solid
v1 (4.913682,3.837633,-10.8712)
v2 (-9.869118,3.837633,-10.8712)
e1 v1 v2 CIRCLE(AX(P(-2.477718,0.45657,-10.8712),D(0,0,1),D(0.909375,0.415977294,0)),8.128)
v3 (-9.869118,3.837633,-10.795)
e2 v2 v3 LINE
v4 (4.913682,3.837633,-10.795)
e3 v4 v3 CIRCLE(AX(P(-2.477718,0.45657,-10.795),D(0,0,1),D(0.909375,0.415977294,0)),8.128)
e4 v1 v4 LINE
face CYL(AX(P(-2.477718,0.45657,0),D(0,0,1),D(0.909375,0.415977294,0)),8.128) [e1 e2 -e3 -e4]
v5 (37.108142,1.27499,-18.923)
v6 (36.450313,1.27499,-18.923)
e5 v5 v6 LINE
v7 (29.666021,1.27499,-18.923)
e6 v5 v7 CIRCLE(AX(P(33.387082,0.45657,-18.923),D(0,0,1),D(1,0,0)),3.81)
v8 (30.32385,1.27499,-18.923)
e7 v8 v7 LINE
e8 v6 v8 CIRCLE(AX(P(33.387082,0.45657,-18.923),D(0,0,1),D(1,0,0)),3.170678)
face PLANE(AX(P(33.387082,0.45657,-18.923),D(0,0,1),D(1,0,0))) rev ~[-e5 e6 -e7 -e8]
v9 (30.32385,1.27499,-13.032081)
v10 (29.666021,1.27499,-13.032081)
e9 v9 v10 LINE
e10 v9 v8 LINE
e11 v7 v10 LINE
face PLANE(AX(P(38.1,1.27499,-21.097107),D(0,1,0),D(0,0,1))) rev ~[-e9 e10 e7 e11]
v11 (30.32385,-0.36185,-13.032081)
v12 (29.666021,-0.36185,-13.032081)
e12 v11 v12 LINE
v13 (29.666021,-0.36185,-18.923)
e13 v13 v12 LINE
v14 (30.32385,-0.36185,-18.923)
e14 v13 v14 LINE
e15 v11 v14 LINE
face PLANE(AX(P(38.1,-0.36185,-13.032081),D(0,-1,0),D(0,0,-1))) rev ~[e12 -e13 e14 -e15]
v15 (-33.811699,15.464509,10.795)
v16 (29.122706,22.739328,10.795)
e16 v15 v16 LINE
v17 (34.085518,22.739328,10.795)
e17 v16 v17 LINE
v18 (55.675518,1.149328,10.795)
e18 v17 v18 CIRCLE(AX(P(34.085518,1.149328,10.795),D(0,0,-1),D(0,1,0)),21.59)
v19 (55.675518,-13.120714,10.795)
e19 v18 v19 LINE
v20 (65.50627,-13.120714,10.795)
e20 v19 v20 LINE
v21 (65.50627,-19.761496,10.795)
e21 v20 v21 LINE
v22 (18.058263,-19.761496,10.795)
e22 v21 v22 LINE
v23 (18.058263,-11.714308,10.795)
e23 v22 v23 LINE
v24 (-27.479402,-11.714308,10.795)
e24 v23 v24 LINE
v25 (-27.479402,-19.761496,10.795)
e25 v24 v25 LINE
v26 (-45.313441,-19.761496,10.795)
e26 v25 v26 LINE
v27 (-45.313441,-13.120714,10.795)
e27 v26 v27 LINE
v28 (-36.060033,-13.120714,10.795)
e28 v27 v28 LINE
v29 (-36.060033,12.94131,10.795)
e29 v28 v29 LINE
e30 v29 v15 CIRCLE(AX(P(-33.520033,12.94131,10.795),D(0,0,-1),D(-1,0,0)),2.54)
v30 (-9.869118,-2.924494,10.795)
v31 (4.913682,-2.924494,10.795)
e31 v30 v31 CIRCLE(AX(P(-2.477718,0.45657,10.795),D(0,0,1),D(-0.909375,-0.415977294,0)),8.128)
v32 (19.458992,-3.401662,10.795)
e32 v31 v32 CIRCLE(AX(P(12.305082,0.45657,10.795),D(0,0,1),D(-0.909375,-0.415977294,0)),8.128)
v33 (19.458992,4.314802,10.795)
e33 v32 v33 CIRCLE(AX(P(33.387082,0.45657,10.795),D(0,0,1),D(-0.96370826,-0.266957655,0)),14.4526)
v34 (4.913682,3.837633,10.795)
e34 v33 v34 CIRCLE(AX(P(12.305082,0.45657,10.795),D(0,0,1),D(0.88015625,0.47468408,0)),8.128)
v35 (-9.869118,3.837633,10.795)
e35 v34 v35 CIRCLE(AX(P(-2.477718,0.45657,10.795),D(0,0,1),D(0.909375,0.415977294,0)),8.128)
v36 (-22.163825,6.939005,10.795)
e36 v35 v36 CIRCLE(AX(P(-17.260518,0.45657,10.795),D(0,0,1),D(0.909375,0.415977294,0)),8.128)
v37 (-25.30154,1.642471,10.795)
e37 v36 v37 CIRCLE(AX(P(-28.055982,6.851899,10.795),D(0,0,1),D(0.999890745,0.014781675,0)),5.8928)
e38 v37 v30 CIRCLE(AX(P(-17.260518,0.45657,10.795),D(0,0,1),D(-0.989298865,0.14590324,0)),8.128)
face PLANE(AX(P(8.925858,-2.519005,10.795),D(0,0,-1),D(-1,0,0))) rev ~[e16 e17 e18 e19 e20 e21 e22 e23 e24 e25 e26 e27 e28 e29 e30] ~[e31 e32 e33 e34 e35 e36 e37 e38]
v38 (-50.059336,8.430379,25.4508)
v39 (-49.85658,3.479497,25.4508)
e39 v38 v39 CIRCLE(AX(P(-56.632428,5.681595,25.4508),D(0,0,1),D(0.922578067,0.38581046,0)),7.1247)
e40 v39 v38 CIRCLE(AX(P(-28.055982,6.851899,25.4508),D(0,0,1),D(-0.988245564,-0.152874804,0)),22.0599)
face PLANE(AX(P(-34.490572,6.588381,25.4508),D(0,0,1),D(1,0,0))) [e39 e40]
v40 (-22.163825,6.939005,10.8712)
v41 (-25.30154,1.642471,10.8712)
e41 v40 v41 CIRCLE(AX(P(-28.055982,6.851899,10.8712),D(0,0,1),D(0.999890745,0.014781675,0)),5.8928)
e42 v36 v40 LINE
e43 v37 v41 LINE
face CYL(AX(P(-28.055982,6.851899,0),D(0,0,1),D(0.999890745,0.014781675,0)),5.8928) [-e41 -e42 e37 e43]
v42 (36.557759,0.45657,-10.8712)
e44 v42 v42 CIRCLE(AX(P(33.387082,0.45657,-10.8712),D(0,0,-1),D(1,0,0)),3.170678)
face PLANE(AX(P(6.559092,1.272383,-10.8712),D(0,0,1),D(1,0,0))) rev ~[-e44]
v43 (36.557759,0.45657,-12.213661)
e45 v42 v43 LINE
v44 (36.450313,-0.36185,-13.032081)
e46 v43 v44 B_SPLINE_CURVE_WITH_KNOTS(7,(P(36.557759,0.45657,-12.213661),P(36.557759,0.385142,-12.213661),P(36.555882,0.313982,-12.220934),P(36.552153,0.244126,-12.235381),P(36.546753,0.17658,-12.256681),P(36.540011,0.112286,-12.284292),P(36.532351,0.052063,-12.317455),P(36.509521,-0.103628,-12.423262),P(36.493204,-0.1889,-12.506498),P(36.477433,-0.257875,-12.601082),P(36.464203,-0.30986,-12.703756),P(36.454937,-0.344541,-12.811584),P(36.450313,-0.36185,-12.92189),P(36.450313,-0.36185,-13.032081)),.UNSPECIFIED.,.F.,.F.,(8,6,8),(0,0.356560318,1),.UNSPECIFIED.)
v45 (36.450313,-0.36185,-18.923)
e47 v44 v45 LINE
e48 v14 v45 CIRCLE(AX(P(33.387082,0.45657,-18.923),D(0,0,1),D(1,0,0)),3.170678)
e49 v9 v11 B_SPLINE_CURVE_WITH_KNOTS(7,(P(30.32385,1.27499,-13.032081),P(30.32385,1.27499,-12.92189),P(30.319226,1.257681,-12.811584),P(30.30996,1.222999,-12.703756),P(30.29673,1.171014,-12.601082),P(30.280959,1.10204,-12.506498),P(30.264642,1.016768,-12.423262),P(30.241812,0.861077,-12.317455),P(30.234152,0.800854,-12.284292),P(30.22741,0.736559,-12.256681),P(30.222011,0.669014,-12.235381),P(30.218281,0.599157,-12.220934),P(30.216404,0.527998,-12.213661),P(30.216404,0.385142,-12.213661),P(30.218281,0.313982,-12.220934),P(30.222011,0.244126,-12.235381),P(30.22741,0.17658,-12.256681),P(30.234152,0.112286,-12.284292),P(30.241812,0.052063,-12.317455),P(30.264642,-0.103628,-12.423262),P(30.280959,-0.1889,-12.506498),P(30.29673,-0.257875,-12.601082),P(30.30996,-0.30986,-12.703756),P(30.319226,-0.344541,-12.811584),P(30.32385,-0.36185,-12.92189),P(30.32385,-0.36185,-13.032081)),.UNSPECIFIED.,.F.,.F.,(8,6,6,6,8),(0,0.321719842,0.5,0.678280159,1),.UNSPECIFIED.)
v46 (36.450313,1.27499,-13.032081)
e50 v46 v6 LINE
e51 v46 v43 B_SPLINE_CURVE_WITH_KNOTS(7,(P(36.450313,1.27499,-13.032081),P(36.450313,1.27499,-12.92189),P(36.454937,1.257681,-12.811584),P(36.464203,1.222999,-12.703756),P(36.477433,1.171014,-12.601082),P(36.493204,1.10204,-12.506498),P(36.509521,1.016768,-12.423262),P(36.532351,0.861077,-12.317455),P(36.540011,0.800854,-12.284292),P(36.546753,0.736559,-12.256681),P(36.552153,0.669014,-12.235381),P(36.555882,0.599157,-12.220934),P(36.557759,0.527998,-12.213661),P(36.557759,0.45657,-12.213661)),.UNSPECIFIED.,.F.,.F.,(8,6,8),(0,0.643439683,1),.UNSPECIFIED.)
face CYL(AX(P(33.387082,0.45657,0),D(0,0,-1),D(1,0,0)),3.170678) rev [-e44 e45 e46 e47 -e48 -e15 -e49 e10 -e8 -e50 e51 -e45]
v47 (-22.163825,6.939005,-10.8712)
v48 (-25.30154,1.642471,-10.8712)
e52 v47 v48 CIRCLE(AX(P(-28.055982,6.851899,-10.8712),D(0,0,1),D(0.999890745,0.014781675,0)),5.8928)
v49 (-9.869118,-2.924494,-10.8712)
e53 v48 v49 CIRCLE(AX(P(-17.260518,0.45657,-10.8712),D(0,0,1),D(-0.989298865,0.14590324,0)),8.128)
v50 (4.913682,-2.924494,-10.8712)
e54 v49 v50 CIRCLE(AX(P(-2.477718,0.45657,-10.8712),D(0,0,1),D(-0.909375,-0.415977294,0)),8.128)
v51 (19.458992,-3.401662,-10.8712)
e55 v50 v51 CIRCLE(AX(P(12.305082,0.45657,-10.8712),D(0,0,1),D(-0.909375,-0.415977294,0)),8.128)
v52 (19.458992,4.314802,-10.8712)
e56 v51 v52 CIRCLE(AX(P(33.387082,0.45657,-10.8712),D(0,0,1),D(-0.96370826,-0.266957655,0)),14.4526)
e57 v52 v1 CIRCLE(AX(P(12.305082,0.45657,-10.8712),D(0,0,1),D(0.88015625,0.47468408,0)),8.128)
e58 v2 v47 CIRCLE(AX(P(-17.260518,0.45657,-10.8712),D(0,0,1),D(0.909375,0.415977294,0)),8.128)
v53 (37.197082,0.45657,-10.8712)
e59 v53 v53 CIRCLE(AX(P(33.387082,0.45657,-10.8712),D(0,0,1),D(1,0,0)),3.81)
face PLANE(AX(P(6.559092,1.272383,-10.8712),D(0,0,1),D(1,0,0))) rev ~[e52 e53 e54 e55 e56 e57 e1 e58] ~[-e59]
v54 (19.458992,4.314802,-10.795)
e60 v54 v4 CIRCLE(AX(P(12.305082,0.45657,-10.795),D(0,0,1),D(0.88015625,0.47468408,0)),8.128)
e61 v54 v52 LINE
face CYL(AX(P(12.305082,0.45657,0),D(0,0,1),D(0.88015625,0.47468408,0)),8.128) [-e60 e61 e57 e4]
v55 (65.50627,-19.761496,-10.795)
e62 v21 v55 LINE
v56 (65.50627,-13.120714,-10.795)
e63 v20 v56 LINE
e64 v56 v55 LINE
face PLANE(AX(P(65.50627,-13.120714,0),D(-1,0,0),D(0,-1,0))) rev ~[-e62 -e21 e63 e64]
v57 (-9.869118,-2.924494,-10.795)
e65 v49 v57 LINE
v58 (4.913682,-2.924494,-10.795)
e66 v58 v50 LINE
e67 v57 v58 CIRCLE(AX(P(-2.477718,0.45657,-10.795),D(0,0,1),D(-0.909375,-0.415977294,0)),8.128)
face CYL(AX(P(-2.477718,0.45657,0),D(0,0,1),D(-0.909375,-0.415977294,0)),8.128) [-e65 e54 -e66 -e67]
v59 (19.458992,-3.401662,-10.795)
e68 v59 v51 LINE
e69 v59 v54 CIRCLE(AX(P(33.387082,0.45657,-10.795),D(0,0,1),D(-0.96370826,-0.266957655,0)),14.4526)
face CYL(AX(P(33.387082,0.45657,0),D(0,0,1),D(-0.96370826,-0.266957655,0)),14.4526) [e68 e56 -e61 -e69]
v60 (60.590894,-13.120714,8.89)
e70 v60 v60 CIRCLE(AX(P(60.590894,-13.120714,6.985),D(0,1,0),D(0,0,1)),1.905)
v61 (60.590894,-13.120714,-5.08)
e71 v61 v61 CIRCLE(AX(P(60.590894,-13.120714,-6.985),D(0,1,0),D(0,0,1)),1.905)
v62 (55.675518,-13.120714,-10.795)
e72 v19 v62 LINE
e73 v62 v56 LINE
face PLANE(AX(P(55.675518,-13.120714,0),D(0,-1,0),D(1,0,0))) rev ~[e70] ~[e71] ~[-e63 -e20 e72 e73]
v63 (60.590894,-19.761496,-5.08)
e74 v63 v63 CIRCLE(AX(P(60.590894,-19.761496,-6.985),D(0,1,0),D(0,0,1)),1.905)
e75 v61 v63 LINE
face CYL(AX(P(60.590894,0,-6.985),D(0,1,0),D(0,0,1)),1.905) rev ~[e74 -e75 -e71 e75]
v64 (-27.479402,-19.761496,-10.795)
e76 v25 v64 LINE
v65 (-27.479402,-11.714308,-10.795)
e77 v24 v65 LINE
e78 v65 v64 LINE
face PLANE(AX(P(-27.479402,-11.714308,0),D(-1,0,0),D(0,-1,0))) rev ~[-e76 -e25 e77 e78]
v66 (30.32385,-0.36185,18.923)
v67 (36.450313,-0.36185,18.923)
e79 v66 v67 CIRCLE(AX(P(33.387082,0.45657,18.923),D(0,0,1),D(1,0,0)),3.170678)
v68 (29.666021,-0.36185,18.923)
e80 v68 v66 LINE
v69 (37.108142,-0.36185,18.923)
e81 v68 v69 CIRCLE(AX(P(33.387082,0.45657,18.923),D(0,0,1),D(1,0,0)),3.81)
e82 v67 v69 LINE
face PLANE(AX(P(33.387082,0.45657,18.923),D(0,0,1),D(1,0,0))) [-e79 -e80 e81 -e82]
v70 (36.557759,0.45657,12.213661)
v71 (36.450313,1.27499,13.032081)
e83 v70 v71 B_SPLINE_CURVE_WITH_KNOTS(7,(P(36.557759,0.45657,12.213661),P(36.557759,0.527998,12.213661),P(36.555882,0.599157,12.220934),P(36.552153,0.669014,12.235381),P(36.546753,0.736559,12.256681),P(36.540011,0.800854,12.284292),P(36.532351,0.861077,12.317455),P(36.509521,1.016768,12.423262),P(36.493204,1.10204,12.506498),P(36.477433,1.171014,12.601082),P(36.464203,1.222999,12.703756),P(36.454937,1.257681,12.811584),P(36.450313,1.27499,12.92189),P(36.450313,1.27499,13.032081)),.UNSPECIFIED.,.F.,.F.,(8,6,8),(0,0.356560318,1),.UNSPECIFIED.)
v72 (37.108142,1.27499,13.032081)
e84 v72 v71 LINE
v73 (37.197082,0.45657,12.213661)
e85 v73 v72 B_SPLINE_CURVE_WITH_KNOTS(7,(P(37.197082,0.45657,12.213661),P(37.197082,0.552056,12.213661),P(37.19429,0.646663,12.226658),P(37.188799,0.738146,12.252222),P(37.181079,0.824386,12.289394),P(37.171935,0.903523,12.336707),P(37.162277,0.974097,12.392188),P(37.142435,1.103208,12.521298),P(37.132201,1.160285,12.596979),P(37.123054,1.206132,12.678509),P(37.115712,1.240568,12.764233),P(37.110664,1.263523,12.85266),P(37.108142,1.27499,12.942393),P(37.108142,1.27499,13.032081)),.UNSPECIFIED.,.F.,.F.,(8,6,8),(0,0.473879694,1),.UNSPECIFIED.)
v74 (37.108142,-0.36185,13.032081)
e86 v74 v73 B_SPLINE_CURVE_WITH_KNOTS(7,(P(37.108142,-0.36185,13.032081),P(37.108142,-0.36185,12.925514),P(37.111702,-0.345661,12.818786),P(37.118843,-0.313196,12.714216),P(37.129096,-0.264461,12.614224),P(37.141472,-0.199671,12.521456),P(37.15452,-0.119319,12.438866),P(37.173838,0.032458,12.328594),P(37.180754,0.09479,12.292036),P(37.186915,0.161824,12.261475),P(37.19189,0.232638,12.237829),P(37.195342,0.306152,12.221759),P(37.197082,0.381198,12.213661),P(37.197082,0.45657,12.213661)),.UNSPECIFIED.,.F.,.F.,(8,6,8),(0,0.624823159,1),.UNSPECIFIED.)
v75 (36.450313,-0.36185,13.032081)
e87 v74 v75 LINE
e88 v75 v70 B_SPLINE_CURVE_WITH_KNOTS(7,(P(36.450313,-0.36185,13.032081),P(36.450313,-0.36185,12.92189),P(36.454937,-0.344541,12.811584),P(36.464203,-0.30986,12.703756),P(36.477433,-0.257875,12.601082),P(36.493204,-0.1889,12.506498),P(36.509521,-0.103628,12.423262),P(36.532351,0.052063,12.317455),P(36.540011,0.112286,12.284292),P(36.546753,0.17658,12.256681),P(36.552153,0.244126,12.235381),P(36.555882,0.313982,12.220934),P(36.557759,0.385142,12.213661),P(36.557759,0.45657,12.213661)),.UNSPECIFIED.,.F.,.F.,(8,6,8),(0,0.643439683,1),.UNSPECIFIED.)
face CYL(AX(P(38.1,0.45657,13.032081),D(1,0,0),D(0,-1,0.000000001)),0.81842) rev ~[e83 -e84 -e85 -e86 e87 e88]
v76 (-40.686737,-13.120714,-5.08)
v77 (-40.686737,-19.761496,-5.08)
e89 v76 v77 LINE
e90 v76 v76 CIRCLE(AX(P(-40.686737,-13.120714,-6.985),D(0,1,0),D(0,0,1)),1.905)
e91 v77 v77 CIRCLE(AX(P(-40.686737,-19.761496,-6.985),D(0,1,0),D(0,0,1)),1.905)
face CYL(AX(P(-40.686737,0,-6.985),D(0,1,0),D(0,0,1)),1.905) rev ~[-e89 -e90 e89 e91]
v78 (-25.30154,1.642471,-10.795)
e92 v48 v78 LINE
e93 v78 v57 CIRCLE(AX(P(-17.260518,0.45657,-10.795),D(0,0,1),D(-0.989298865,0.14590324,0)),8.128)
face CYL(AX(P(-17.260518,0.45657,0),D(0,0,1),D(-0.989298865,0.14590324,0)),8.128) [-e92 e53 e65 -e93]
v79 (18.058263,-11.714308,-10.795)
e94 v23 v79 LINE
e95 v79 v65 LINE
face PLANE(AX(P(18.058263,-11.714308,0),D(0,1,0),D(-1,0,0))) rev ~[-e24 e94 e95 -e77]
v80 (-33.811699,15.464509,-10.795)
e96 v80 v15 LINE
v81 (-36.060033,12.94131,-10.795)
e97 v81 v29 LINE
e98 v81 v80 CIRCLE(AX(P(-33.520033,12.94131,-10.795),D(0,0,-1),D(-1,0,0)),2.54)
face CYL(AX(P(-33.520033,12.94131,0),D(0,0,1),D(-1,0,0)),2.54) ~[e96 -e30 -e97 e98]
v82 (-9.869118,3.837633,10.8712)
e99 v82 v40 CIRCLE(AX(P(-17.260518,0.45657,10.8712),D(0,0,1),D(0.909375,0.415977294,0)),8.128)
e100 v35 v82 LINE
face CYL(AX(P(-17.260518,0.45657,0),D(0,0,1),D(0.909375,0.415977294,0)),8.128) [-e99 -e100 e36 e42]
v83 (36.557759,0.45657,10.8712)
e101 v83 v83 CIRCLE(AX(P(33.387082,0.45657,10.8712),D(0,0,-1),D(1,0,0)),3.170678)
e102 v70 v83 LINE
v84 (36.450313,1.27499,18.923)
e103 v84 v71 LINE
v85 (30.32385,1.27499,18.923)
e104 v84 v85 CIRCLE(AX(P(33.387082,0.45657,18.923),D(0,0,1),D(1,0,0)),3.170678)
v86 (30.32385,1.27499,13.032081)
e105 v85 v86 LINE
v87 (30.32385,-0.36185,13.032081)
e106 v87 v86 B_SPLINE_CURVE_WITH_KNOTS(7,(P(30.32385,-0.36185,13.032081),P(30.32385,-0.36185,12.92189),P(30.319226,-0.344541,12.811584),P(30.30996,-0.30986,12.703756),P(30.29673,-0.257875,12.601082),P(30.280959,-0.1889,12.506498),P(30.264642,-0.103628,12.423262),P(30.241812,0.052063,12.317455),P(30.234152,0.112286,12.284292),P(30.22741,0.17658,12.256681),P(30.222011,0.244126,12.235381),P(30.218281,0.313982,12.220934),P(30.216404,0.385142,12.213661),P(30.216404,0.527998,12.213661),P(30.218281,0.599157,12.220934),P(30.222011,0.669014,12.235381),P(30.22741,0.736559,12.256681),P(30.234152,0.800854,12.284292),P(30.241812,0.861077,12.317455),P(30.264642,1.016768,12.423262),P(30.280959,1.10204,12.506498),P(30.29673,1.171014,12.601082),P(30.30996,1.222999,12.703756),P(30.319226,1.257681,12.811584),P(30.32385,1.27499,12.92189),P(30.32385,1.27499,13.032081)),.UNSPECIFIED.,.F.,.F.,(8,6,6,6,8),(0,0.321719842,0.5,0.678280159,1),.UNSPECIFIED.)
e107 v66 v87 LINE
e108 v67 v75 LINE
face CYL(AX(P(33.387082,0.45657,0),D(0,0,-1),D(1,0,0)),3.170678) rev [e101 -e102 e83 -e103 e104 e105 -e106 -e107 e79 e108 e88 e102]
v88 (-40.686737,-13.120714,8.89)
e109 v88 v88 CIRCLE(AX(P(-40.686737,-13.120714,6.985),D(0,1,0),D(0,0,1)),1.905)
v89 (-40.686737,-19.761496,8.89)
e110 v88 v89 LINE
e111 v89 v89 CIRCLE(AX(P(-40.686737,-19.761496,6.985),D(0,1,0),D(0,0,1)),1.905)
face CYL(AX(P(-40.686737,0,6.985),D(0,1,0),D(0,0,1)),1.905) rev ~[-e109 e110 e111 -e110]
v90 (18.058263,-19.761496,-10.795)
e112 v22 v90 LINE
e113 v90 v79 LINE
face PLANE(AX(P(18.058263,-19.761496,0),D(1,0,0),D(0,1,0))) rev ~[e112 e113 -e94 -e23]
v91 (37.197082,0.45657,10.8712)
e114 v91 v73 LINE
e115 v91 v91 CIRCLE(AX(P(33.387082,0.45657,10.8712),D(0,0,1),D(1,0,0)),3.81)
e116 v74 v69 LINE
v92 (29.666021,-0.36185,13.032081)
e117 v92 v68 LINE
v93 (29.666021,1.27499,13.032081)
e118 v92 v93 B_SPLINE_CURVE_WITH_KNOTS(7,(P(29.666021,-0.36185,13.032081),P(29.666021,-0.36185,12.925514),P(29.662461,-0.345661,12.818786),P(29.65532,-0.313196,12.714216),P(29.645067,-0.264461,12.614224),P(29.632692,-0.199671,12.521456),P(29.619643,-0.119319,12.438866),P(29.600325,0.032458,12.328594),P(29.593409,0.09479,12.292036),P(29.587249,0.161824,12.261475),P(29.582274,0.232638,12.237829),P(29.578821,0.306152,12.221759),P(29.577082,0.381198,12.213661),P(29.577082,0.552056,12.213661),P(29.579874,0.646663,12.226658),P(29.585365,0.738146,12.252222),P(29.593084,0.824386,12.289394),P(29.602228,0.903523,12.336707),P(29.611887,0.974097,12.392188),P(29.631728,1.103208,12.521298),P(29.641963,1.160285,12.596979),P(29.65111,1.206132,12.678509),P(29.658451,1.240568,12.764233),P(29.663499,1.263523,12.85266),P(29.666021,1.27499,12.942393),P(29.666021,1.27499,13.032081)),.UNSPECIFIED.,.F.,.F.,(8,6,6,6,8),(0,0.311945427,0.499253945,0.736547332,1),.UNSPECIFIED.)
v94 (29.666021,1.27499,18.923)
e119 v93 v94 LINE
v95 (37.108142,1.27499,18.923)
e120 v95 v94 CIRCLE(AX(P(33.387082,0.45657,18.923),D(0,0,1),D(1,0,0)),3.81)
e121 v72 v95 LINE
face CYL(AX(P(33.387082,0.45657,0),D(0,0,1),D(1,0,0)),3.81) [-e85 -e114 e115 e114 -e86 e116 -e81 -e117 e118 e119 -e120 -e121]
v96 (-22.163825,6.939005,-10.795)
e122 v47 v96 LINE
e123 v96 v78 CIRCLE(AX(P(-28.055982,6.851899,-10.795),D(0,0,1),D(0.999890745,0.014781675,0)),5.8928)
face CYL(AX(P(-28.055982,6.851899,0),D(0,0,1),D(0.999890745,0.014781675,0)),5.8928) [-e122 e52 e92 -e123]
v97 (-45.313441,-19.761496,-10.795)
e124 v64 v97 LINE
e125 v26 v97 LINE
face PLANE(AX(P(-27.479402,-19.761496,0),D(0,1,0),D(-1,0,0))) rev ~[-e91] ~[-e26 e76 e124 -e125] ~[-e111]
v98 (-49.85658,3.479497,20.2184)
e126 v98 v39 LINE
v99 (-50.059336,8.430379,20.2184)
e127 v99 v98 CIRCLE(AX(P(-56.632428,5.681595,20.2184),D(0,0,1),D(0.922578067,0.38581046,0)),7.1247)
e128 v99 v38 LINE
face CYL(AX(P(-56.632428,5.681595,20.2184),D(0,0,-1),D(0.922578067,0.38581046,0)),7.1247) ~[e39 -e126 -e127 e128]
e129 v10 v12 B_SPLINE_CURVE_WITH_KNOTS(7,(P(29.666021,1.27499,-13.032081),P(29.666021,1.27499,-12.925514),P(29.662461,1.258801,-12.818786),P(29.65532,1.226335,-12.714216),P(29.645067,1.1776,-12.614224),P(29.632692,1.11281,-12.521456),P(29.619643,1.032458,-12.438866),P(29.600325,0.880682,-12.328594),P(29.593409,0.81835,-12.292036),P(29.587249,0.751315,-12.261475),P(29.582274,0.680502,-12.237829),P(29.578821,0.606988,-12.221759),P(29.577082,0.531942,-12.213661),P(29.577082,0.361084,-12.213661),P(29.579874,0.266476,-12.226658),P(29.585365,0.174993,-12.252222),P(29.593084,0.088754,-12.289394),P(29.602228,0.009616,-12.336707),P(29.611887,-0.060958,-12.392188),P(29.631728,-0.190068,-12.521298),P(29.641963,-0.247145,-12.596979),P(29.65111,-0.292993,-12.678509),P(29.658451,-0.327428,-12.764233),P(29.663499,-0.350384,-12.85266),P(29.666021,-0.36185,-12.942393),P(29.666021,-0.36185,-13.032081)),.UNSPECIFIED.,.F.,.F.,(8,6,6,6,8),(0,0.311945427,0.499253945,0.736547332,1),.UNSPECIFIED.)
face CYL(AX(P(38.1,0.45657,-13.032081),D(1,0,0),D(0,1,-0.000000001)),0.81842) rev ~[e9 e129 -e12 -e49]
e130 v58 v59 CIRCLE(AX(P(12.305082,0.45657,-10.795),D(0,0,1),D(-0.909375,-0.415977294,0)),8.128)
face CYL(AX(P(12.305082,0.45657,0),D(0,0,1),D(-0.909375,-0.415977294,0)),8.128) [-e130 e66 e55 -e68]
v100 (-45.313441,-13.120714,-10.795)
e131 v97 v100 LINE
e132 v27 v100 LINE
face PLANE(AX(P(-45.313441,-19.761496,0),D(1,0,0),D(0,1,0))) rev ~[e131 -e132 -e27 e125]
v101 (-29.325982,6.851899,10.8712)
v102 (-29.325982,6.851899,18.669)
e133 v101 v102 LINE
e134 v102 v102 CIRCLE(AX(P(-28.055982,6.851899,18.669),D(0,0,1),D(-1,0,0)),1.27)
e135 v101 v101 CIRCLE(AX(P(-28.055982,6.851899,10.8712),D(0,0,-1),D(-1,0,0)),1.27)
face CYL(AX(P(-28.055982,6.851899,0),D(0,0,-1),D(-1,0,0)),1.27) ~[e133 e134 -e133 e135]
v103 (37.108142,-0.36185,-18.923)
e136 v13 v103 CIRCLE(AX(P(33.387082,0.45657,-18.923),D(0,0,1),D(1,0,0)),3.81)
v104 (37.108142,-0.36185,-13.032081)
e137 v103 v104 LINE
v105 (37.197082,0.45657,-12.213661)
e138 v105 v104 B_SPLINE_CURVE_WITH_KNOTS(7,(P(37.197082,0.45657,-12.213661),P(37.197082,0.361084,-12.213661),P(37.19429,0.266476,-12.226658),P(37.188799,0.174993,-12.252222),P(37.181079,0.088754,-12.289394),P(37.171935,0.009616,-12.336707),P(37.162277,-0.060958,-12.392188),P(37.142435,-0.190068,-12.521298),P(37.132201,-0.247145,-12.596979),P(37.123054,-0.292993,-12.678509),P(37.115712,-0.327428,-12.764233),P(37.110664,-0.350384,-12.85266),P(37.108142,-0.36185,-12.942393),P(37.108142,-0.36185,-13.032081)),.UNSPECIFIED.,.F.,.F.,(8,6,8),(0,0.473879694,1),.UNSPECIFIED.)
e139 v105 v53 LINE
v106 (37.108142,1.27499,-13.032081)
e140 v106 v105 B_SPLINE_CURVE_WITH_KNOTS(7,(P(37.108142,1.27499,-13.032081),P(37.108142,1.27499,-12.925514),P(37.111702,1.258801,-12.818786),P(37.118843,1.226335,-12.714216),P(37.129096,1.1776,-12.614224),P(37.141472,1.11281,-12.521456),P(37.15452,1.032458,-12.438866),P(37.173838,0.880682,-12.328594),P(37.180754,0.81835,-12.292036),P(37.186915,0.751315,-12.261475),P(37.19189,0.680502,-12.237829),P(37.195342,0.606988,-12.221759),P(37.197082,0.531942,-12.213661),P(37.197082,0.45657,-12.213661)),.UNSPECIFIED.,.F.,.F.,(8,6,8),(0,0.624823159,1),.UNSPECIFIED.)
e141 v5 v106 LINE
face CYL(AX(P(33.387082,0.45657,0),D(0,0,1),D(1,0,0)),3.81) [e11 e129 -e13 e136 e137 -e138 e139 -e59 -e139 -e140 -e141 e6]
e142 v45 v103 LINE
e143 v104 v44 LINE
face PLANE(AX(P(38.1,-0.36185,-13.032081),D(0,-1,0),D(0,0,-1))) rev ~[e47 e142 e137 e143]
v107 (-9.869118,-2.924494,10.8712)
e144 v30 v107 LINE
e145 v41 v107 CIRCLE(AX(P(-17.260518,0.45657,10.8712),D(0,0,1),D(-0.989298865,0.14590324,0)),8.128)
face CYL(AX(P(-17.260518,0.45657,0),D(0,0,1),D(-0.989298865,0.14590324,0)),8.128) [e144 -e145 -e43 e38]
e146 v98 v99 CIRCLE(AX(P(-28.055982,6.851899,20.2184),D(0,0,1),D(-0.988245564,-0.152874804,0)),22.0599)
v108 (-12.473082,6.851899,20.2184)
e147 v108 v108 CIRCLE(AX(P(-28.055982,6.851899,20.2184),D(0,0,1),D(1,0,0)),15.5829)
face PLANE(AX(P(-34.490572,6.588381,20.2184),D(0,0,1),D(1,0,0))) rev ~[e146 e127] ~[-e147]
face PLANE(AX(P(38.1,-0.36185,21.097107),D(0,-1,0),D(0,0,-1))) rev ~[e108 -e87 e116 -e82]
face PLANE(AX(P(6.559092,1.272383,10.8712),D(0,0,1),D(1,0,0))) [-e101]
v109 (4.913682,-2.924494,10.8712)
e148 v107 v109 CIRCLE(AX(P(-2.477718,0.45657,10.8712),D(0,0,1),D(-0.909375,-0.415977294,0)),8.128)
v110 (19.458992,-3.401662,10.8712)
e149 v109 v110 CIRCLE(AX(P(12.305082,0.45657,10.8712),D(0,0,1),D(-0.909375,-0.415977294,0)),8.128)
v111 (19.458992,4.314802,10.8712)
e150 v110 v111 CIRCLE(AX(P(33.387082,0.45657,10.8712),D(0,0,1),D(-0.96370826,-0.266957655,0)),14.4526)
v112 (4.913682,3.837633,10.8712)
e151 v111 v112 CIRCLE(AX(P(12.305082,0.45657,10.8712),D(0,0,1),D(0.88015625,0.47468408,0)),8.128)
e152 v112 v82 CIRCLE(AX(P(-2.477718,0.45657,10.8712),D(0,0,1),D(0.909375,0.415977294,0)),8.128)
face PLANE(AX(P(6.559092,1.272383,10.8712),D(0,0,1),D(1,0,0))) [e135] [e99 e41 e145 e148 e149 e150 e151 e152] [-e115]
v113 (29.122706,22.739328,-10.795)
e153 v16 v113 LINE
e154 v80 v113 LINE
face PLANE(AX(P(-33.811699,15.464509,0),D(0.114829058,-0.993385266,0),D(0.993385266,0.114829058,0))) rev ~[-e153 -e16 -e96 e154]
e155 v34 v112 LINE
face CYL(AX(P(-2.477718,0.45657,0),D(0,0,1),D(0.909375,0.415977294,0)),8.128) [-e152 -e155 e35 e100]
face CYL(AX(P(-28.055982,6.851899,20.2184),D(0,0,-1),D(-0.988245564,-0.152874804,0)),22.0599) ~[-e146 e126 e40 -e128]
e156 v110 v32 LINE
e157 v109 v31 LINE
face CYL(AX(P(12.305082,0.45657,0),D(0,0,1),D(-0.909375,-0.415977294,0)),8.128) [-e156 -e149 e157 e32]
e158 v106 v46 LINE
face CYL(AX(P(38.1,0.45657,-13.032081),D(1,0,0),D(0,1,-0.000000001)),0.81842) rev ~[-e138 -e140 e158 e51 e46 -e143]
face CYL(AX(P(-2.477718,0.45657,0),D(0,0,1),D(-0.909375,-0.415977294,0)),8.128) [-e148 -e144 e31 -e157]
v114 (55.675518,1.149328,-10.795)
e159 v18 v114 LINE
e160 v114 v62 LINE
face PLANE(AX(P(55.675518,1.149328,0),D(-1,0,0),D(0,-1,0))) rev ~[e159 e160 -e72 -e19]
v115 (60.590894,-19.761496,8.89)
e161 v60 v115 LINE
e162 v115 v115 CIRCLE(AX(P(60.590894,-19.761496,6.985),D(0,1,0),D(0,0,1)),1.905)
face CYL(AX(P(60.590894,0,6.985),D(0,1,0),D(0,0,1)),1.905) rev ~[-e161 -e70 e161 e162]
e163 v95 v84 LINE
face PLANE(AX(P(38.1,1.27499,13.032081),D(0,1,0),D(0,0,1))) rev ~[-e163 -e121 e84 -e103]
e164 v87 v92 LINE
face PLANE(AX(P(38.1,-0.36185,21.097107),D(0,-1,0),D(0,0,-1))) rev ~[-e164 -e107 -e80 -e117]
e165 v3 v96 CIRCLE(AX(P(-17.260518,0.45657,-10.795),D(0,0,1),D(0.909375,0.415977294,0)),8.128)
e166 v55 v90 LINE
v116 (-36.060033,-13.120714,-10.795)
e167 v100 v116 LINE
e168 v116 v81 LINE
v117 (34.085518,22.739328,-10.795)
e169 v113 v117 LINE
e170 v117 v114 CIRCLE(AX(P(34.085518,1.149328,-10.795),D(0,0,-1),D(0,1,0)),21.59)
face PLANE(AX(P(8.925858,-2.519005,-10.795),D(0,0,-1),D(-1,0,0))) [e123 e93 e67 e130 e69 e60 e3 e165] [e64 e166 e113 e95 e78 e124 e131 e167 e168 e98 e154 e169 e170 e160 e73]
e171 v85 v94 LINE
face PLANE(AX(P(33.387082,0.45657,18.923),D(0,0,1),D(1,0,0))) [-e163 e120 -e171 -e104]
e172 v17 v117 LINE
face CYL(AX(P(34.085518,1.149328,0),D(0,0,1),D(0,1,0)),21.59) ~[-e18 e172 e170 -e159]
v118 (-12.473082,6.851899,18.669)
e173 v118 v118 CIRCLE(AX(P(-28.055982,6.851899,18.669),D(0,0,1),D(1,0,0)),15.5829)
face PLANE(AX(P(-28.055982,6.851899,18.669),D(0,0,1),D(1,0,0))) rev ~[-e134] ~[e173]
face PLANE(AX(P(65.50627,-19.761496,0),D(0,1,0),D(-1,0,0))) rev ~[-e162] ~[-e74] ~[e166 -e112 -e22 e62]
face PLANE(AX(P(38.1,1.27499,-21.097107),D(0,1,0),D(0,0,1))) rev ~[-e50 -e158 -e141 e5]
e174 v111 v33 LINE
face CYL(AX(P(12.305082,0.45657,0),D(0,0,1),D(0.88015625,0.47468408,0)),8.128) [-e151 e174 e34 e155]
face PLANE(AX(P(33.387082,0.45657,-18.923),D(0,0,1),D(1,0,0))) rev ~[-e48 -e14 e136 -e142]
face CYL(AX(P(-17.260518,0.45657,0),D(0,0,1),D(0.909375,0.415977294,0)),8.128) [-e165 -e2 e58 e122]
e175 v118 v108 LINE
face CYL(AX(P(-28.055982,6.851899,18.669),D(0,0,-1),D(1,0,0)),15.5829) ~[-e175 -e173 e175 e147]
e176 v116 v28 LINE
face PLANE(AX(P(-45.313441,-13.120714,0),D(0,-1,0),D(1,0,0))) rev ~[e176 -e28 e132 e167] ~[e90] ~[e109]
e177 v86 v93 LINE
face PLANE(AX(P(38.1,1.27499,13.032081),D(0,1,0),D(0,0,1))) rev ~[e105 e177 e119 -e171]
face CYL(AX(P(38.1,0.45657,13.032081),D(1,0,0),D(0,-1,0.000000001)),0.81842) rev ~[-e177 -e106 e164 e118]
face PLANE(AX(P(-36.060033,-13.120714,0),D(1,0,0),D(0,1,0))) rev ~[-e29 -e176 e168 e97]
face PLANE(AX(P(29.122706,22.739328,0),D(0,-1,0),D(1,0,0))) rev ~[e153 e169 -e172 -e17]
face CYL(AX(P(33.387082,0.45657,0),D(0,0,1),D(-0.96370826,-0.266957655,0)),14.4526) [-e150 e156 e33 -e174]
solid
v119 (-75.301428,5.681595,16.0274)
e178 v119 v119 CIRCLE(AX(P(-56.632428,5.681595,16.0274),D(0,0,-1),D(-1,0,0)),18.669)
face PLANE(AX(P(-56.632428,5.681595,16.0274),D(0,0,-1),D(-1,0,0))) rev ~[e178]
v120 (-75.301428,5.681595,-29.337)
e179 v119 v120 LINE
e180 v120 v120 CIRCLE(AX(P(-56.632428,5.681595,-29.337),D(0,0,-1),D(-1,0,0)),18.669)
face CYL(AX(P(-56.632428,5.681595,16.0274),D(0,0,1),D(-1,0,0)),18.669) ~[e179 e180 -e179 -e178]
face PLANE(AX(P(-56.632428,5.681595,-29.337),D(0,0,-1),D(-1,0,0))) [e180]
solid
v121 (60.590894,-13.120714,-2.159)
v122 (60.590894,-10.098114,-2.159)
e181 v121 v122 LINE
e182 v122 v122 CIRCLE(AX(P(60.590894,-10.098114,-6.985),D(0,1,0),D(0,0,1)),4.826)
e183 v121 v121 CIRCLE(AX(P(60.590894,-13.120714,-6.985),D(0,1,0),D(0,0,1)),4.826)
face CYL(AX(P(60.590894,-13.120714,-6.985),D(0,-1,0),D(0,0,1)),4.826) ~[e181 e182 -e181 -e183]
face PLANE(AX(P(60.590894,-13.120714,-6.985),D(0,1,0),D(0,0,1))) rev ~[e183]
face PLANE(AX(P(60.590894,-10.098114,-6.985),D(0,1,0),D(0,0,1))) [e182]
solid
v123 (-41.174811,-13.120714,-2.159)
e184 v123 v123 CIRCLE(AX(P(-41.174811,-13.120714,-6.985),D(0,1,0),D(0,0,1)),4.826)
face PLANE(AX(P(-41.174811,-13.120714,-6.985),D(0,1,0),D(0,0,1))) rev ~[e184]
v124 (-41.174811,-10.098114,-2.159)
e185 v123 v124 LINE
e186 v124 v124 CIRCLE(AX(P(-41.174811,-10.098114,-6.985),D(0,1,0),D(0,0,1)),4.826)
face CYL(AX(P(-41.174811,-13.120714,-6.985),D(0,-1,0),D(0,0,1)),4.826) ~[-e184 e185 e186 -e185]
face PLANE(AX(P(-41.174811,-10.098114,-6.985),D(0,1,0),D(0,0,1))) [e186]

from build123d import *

# Parameters (mm, degrees)
EXTRUDE1_DEPTH    = 10.8712
SKETCH3_R         = 3.81
SKETCH3_R_2       = 3.170677591
EXTRUDE2_DEPTH    = 18.923
EXTRUDE3_DEPTH    = 10.795
SKETCH6_R         = 1.905
EXTRUDE4_DEPTH    = 21.59
SKETCH7_R         = 1.27
EXTRUDE5_DEPTH    = 18.669
EXTRUDE6_START    = 38.1
EXTRUDE6_DEPTH    = 10
SKETCH9_R         = 15.5829
EXTRUDE7_DEPTH    = 1.5494
EXTRUDE8_DEPTH    = 5.2324
EXTRUDE9_START    = 4.191
SKETCH11_R        = 18.669
EXTRUDE9_DEPTH    = 45.3644
SKETCH14_R        = 4.826
EXTRUDE10_DEPTH   = 3.0226
EXTRUDE10_2_DEPTH = 3.0226


with BuildPart() as part:
    # Sketch1 → Extrude1 (new, symmetric)
    with BuildSketch(Plane.XY):
        with BuildLine():
            ThreePointArc((19.458991626, 4.314801956), (12.038580445, 8.580199555), (4.913681626, 3.837633204))
            ThreePointArc((4.913681626, 3.837633204), (-2.477718374, 8.584569756), (-9.869118374, 3.837633204))
            ThreePointArc((-9.869118374, 3.837633204), (-15.272484602, 8.337693135), (-22.163825334, 6.939004858))
            ThreePointArc((-22.163825334, 6.939004858), (-33.125915624, 9.855374055), (-25.30153955, 1.642471287))
            ThreePointArc((-25.30153955, 1.642471287), (-19.566986279, -7.337311806), (-9.869118374, -2.924493692))
            ThreePointArc((-9.869118374, -2.924493692), (-2.477718374, -7.671430244), (4.913681626, -2.924493692))
            ThreePointArc((4.913681626, -2.924493692), (12.038580445, -7.667060044), (19.458991626, -3.401662445))
            ThreePointArc((19.458991626, -3.401662445), (47.839681626, 0.456569756), (19.458991626, 4.314801956))
        make_face()
    extrude(amount=EXTRUDE1_DEPTH, both=True)

    # Sketch3 → Extrude2 (add, symmetric)
    with BuildSketch(Plane.XY):
        with Locations((33.387081626, 0.456569756)):
            Circle(SKETCH3_R)
        with Locations((33.387081626, 0.456569756)):
            Circle(SKETCH3_R_2, mode=Mode.SUBTRACT)
    extrude(amount=EXTRUDE2_DEPTH, both=True)



with BuildPart() as body_2:
    # Sketch4 → Extrude3 (new, symmetric)
    with BuildSketch(Plane.XY):
        with BuildLine():
            Line((-33.811698743, 15.464508517), (29.122706406, 22.739327964))
            Line((29.122706406, 22.739327964), (34.085517936, 22.739327964))
            ThreePointArc((34.085517936, 22.739327964), (49.351953342, 16.415763369), (55.675517936, 1.149327964))
            Line((55.675517936, 1.149327964), (55.675517936, -13.120714332))
            Line((55.675517936, -13.120714332), (65.506269991, -13.120714332))
            Line((65.506269991, -13.120714332), (65.506269991, -19.76149571))
            Line((65.506269991, -19.76149571), (18.058263176, -19.76149571))
            Line((18.058263176, -19.76149571), (18.058263176, -11.714308248))
            Line((18.058263176, -11.714308248), (-27.479401564, -11.714308248))
            Line((-27.479401564, -11.714308248), (-27.479401564, -19.76149571))
            Line((-27.479401564, -19.76149571), (-45.313440802, -19.76149571))
            Line((-45.313440802, -19.76149571), (-45.313440802, -13.120714332))
            Line((-45.313440802, -13.120714332), (-36.060032936, -13.120714332))
            Line((-36.060032936, -13.120714332), (-36.060032936, 12.941309941))
            ThreePointArc((-36.060032936, 12.941309941), (-35.416401986, 14.631098219), (-33.811698743, 15.464508517))
        make_face()
    extrude(amount=EXTRUDE3_DEPTH, both=True)

    # Sketch6 → Extrude4 (cut)
    with BuildSketch(Plane(origin=(0, 0, 0), x_dir=(1, 0, 0), z_dir=(0, 1, 0))):
        with Locations(Location((-40.686736869, 6.985, 0), (0, 0, 270))):
            Circle(SKETCH6_R)
        with Locations(Location((60.590893964, 6.985, 0), (0, 0, 270))):
            Circle(SKETCH6_R)
        with Locations(Location((60.590893964, -6.985, 0), (0, 0, 270))):
            Circle(SKETCH6_R)
        with Locations(Location((-40.686736869, -6.985, 0), (0, 0, 270))):
            Circle(SKETCH6_R)
    extrude(amount=-EXTRUDE4_DEPTH, mode=Mode.SUBTRACT)


with BuildPart() as part_1:
    add(part.part)

    add(body_2.part)  # Extrude5 merges body 2
    # Sketch7 → Extrude5 (add)
    with BuildSketch(Plane.XY):
        with Locations(Location((-28.055981517, 6.851899403, 0), (0, 0, 180))):
            Circle(SKETCH7_R)
    extrude(amount=EXTRUDE5_DEPTH)

    # Sketch8 → Extrude6 (cut)
    with BuildSketch(Plane(origin=(0, 0, 0), x_dir=(0, 0, -1), z_dir=(1, 0, 0)).offset(EXTRUDE6_START)):
        with BuildLine():
            Line((-13.032080809, 1.274989594), (-21.09710677, 1.274989594))
            Line((-21.09710677, 1.274989594), (-21.09710677, -0.361850083))
            Line((-21.09710677, -0.361850083), (-13.032080809, -0.361850083))
            ThreePointArc((-13.032080809, -0.361850083), (-12.21366097, 0.456569756), (-13.032080809, 1.274989594))
        make_face()
        with BuildLine():
            Line((13.032080809, -0.361850083), (21.09710677, -0.361850083))
            Line((21.09710677, -0.361850083), (21.09710677, 1.274989594))
            Line((21.09710677, 1.274989594), (13.032080809, 1.274989594))
            ThreePointArc((13.032080809, 1.274989594), (12.21366097, 0.456569756), (13.032080809, -0.361850083))
        make_face()
    extrude(amount=-EXTRUDE6_DEPTH, mode=Mode.SUBTRACT)

    # Sketch9 → Extrude7 (add)
    with BuildSketch(Plane.XY.offset(18.669)):
        with Locations((-28.055981517, 6.851899403)):
            Circle(SKETCH9_R)
    extrude(amount=EXTRUDE7_DEPTH)

    # Sketch10 → Extrude8 (add)
    with BuildSketch(Plane.XY.offset(20.2184)):
        with BuildLine():
            ThreePointArc((-49.85657983, 3.479496518), (-6.014557557, 7.754572016), (-50.059335598, 8.430378799))
            ThreePointArc((-50.059335598, 8.430378799), (-63.75116033, 5.390058263), (-49.85657983, 3.479496518))
        make_face()
    extrude(amount=EXTRUDE8_DEPTH)


with BuildPart() as body_2_2:
    # Sketch11 → Extrude9 (new body)
    with BuildSketch(Plane(origin=(0, 0, 20.2184), x_dir=(-1, 0, 0), z_dir=(0, 0, -1)).offset(EXTRUDE9_START)):
        with Locations((56.632427548, 5.681595013)):
            Circle(SKETCH11_R)
    extrude(amount=EXTRUDE9_DEPTH)


with BuildPart() as body_3:
    # Sketch14 → Extrude10 (new body)
    with BuildSketch(Plane(origin=(0, -13.120714332, 0), x_dir=(1, 0, 0), z_dir=(0, 1, 0))):
        with Locations(Location((60.590893964, 6.985, 0), (0, 0, 270))):
            Circle(SKETCH14_R)
    extrude(amount=EXTRUDE10_DEPTH)


with BuildPart() as body_4:
    # Sketch14 → Extrude10 2 (new body)
    with BuildSketch(Plane(origin=(0, -13.120714332, 0), x_dir=(1, 0, 0), z_dir=(0, 1, 0))):
        with Locations(Location((-41.174810527, 6.985, 0), (0, 0, 270))):
            Circle(SKETCH14_R)
    extrude(amount=EXTRUDE10_2_DEPTH)


solid = Compound([part_1.part, body_2_2.part, body_3.part, body_4.part])
